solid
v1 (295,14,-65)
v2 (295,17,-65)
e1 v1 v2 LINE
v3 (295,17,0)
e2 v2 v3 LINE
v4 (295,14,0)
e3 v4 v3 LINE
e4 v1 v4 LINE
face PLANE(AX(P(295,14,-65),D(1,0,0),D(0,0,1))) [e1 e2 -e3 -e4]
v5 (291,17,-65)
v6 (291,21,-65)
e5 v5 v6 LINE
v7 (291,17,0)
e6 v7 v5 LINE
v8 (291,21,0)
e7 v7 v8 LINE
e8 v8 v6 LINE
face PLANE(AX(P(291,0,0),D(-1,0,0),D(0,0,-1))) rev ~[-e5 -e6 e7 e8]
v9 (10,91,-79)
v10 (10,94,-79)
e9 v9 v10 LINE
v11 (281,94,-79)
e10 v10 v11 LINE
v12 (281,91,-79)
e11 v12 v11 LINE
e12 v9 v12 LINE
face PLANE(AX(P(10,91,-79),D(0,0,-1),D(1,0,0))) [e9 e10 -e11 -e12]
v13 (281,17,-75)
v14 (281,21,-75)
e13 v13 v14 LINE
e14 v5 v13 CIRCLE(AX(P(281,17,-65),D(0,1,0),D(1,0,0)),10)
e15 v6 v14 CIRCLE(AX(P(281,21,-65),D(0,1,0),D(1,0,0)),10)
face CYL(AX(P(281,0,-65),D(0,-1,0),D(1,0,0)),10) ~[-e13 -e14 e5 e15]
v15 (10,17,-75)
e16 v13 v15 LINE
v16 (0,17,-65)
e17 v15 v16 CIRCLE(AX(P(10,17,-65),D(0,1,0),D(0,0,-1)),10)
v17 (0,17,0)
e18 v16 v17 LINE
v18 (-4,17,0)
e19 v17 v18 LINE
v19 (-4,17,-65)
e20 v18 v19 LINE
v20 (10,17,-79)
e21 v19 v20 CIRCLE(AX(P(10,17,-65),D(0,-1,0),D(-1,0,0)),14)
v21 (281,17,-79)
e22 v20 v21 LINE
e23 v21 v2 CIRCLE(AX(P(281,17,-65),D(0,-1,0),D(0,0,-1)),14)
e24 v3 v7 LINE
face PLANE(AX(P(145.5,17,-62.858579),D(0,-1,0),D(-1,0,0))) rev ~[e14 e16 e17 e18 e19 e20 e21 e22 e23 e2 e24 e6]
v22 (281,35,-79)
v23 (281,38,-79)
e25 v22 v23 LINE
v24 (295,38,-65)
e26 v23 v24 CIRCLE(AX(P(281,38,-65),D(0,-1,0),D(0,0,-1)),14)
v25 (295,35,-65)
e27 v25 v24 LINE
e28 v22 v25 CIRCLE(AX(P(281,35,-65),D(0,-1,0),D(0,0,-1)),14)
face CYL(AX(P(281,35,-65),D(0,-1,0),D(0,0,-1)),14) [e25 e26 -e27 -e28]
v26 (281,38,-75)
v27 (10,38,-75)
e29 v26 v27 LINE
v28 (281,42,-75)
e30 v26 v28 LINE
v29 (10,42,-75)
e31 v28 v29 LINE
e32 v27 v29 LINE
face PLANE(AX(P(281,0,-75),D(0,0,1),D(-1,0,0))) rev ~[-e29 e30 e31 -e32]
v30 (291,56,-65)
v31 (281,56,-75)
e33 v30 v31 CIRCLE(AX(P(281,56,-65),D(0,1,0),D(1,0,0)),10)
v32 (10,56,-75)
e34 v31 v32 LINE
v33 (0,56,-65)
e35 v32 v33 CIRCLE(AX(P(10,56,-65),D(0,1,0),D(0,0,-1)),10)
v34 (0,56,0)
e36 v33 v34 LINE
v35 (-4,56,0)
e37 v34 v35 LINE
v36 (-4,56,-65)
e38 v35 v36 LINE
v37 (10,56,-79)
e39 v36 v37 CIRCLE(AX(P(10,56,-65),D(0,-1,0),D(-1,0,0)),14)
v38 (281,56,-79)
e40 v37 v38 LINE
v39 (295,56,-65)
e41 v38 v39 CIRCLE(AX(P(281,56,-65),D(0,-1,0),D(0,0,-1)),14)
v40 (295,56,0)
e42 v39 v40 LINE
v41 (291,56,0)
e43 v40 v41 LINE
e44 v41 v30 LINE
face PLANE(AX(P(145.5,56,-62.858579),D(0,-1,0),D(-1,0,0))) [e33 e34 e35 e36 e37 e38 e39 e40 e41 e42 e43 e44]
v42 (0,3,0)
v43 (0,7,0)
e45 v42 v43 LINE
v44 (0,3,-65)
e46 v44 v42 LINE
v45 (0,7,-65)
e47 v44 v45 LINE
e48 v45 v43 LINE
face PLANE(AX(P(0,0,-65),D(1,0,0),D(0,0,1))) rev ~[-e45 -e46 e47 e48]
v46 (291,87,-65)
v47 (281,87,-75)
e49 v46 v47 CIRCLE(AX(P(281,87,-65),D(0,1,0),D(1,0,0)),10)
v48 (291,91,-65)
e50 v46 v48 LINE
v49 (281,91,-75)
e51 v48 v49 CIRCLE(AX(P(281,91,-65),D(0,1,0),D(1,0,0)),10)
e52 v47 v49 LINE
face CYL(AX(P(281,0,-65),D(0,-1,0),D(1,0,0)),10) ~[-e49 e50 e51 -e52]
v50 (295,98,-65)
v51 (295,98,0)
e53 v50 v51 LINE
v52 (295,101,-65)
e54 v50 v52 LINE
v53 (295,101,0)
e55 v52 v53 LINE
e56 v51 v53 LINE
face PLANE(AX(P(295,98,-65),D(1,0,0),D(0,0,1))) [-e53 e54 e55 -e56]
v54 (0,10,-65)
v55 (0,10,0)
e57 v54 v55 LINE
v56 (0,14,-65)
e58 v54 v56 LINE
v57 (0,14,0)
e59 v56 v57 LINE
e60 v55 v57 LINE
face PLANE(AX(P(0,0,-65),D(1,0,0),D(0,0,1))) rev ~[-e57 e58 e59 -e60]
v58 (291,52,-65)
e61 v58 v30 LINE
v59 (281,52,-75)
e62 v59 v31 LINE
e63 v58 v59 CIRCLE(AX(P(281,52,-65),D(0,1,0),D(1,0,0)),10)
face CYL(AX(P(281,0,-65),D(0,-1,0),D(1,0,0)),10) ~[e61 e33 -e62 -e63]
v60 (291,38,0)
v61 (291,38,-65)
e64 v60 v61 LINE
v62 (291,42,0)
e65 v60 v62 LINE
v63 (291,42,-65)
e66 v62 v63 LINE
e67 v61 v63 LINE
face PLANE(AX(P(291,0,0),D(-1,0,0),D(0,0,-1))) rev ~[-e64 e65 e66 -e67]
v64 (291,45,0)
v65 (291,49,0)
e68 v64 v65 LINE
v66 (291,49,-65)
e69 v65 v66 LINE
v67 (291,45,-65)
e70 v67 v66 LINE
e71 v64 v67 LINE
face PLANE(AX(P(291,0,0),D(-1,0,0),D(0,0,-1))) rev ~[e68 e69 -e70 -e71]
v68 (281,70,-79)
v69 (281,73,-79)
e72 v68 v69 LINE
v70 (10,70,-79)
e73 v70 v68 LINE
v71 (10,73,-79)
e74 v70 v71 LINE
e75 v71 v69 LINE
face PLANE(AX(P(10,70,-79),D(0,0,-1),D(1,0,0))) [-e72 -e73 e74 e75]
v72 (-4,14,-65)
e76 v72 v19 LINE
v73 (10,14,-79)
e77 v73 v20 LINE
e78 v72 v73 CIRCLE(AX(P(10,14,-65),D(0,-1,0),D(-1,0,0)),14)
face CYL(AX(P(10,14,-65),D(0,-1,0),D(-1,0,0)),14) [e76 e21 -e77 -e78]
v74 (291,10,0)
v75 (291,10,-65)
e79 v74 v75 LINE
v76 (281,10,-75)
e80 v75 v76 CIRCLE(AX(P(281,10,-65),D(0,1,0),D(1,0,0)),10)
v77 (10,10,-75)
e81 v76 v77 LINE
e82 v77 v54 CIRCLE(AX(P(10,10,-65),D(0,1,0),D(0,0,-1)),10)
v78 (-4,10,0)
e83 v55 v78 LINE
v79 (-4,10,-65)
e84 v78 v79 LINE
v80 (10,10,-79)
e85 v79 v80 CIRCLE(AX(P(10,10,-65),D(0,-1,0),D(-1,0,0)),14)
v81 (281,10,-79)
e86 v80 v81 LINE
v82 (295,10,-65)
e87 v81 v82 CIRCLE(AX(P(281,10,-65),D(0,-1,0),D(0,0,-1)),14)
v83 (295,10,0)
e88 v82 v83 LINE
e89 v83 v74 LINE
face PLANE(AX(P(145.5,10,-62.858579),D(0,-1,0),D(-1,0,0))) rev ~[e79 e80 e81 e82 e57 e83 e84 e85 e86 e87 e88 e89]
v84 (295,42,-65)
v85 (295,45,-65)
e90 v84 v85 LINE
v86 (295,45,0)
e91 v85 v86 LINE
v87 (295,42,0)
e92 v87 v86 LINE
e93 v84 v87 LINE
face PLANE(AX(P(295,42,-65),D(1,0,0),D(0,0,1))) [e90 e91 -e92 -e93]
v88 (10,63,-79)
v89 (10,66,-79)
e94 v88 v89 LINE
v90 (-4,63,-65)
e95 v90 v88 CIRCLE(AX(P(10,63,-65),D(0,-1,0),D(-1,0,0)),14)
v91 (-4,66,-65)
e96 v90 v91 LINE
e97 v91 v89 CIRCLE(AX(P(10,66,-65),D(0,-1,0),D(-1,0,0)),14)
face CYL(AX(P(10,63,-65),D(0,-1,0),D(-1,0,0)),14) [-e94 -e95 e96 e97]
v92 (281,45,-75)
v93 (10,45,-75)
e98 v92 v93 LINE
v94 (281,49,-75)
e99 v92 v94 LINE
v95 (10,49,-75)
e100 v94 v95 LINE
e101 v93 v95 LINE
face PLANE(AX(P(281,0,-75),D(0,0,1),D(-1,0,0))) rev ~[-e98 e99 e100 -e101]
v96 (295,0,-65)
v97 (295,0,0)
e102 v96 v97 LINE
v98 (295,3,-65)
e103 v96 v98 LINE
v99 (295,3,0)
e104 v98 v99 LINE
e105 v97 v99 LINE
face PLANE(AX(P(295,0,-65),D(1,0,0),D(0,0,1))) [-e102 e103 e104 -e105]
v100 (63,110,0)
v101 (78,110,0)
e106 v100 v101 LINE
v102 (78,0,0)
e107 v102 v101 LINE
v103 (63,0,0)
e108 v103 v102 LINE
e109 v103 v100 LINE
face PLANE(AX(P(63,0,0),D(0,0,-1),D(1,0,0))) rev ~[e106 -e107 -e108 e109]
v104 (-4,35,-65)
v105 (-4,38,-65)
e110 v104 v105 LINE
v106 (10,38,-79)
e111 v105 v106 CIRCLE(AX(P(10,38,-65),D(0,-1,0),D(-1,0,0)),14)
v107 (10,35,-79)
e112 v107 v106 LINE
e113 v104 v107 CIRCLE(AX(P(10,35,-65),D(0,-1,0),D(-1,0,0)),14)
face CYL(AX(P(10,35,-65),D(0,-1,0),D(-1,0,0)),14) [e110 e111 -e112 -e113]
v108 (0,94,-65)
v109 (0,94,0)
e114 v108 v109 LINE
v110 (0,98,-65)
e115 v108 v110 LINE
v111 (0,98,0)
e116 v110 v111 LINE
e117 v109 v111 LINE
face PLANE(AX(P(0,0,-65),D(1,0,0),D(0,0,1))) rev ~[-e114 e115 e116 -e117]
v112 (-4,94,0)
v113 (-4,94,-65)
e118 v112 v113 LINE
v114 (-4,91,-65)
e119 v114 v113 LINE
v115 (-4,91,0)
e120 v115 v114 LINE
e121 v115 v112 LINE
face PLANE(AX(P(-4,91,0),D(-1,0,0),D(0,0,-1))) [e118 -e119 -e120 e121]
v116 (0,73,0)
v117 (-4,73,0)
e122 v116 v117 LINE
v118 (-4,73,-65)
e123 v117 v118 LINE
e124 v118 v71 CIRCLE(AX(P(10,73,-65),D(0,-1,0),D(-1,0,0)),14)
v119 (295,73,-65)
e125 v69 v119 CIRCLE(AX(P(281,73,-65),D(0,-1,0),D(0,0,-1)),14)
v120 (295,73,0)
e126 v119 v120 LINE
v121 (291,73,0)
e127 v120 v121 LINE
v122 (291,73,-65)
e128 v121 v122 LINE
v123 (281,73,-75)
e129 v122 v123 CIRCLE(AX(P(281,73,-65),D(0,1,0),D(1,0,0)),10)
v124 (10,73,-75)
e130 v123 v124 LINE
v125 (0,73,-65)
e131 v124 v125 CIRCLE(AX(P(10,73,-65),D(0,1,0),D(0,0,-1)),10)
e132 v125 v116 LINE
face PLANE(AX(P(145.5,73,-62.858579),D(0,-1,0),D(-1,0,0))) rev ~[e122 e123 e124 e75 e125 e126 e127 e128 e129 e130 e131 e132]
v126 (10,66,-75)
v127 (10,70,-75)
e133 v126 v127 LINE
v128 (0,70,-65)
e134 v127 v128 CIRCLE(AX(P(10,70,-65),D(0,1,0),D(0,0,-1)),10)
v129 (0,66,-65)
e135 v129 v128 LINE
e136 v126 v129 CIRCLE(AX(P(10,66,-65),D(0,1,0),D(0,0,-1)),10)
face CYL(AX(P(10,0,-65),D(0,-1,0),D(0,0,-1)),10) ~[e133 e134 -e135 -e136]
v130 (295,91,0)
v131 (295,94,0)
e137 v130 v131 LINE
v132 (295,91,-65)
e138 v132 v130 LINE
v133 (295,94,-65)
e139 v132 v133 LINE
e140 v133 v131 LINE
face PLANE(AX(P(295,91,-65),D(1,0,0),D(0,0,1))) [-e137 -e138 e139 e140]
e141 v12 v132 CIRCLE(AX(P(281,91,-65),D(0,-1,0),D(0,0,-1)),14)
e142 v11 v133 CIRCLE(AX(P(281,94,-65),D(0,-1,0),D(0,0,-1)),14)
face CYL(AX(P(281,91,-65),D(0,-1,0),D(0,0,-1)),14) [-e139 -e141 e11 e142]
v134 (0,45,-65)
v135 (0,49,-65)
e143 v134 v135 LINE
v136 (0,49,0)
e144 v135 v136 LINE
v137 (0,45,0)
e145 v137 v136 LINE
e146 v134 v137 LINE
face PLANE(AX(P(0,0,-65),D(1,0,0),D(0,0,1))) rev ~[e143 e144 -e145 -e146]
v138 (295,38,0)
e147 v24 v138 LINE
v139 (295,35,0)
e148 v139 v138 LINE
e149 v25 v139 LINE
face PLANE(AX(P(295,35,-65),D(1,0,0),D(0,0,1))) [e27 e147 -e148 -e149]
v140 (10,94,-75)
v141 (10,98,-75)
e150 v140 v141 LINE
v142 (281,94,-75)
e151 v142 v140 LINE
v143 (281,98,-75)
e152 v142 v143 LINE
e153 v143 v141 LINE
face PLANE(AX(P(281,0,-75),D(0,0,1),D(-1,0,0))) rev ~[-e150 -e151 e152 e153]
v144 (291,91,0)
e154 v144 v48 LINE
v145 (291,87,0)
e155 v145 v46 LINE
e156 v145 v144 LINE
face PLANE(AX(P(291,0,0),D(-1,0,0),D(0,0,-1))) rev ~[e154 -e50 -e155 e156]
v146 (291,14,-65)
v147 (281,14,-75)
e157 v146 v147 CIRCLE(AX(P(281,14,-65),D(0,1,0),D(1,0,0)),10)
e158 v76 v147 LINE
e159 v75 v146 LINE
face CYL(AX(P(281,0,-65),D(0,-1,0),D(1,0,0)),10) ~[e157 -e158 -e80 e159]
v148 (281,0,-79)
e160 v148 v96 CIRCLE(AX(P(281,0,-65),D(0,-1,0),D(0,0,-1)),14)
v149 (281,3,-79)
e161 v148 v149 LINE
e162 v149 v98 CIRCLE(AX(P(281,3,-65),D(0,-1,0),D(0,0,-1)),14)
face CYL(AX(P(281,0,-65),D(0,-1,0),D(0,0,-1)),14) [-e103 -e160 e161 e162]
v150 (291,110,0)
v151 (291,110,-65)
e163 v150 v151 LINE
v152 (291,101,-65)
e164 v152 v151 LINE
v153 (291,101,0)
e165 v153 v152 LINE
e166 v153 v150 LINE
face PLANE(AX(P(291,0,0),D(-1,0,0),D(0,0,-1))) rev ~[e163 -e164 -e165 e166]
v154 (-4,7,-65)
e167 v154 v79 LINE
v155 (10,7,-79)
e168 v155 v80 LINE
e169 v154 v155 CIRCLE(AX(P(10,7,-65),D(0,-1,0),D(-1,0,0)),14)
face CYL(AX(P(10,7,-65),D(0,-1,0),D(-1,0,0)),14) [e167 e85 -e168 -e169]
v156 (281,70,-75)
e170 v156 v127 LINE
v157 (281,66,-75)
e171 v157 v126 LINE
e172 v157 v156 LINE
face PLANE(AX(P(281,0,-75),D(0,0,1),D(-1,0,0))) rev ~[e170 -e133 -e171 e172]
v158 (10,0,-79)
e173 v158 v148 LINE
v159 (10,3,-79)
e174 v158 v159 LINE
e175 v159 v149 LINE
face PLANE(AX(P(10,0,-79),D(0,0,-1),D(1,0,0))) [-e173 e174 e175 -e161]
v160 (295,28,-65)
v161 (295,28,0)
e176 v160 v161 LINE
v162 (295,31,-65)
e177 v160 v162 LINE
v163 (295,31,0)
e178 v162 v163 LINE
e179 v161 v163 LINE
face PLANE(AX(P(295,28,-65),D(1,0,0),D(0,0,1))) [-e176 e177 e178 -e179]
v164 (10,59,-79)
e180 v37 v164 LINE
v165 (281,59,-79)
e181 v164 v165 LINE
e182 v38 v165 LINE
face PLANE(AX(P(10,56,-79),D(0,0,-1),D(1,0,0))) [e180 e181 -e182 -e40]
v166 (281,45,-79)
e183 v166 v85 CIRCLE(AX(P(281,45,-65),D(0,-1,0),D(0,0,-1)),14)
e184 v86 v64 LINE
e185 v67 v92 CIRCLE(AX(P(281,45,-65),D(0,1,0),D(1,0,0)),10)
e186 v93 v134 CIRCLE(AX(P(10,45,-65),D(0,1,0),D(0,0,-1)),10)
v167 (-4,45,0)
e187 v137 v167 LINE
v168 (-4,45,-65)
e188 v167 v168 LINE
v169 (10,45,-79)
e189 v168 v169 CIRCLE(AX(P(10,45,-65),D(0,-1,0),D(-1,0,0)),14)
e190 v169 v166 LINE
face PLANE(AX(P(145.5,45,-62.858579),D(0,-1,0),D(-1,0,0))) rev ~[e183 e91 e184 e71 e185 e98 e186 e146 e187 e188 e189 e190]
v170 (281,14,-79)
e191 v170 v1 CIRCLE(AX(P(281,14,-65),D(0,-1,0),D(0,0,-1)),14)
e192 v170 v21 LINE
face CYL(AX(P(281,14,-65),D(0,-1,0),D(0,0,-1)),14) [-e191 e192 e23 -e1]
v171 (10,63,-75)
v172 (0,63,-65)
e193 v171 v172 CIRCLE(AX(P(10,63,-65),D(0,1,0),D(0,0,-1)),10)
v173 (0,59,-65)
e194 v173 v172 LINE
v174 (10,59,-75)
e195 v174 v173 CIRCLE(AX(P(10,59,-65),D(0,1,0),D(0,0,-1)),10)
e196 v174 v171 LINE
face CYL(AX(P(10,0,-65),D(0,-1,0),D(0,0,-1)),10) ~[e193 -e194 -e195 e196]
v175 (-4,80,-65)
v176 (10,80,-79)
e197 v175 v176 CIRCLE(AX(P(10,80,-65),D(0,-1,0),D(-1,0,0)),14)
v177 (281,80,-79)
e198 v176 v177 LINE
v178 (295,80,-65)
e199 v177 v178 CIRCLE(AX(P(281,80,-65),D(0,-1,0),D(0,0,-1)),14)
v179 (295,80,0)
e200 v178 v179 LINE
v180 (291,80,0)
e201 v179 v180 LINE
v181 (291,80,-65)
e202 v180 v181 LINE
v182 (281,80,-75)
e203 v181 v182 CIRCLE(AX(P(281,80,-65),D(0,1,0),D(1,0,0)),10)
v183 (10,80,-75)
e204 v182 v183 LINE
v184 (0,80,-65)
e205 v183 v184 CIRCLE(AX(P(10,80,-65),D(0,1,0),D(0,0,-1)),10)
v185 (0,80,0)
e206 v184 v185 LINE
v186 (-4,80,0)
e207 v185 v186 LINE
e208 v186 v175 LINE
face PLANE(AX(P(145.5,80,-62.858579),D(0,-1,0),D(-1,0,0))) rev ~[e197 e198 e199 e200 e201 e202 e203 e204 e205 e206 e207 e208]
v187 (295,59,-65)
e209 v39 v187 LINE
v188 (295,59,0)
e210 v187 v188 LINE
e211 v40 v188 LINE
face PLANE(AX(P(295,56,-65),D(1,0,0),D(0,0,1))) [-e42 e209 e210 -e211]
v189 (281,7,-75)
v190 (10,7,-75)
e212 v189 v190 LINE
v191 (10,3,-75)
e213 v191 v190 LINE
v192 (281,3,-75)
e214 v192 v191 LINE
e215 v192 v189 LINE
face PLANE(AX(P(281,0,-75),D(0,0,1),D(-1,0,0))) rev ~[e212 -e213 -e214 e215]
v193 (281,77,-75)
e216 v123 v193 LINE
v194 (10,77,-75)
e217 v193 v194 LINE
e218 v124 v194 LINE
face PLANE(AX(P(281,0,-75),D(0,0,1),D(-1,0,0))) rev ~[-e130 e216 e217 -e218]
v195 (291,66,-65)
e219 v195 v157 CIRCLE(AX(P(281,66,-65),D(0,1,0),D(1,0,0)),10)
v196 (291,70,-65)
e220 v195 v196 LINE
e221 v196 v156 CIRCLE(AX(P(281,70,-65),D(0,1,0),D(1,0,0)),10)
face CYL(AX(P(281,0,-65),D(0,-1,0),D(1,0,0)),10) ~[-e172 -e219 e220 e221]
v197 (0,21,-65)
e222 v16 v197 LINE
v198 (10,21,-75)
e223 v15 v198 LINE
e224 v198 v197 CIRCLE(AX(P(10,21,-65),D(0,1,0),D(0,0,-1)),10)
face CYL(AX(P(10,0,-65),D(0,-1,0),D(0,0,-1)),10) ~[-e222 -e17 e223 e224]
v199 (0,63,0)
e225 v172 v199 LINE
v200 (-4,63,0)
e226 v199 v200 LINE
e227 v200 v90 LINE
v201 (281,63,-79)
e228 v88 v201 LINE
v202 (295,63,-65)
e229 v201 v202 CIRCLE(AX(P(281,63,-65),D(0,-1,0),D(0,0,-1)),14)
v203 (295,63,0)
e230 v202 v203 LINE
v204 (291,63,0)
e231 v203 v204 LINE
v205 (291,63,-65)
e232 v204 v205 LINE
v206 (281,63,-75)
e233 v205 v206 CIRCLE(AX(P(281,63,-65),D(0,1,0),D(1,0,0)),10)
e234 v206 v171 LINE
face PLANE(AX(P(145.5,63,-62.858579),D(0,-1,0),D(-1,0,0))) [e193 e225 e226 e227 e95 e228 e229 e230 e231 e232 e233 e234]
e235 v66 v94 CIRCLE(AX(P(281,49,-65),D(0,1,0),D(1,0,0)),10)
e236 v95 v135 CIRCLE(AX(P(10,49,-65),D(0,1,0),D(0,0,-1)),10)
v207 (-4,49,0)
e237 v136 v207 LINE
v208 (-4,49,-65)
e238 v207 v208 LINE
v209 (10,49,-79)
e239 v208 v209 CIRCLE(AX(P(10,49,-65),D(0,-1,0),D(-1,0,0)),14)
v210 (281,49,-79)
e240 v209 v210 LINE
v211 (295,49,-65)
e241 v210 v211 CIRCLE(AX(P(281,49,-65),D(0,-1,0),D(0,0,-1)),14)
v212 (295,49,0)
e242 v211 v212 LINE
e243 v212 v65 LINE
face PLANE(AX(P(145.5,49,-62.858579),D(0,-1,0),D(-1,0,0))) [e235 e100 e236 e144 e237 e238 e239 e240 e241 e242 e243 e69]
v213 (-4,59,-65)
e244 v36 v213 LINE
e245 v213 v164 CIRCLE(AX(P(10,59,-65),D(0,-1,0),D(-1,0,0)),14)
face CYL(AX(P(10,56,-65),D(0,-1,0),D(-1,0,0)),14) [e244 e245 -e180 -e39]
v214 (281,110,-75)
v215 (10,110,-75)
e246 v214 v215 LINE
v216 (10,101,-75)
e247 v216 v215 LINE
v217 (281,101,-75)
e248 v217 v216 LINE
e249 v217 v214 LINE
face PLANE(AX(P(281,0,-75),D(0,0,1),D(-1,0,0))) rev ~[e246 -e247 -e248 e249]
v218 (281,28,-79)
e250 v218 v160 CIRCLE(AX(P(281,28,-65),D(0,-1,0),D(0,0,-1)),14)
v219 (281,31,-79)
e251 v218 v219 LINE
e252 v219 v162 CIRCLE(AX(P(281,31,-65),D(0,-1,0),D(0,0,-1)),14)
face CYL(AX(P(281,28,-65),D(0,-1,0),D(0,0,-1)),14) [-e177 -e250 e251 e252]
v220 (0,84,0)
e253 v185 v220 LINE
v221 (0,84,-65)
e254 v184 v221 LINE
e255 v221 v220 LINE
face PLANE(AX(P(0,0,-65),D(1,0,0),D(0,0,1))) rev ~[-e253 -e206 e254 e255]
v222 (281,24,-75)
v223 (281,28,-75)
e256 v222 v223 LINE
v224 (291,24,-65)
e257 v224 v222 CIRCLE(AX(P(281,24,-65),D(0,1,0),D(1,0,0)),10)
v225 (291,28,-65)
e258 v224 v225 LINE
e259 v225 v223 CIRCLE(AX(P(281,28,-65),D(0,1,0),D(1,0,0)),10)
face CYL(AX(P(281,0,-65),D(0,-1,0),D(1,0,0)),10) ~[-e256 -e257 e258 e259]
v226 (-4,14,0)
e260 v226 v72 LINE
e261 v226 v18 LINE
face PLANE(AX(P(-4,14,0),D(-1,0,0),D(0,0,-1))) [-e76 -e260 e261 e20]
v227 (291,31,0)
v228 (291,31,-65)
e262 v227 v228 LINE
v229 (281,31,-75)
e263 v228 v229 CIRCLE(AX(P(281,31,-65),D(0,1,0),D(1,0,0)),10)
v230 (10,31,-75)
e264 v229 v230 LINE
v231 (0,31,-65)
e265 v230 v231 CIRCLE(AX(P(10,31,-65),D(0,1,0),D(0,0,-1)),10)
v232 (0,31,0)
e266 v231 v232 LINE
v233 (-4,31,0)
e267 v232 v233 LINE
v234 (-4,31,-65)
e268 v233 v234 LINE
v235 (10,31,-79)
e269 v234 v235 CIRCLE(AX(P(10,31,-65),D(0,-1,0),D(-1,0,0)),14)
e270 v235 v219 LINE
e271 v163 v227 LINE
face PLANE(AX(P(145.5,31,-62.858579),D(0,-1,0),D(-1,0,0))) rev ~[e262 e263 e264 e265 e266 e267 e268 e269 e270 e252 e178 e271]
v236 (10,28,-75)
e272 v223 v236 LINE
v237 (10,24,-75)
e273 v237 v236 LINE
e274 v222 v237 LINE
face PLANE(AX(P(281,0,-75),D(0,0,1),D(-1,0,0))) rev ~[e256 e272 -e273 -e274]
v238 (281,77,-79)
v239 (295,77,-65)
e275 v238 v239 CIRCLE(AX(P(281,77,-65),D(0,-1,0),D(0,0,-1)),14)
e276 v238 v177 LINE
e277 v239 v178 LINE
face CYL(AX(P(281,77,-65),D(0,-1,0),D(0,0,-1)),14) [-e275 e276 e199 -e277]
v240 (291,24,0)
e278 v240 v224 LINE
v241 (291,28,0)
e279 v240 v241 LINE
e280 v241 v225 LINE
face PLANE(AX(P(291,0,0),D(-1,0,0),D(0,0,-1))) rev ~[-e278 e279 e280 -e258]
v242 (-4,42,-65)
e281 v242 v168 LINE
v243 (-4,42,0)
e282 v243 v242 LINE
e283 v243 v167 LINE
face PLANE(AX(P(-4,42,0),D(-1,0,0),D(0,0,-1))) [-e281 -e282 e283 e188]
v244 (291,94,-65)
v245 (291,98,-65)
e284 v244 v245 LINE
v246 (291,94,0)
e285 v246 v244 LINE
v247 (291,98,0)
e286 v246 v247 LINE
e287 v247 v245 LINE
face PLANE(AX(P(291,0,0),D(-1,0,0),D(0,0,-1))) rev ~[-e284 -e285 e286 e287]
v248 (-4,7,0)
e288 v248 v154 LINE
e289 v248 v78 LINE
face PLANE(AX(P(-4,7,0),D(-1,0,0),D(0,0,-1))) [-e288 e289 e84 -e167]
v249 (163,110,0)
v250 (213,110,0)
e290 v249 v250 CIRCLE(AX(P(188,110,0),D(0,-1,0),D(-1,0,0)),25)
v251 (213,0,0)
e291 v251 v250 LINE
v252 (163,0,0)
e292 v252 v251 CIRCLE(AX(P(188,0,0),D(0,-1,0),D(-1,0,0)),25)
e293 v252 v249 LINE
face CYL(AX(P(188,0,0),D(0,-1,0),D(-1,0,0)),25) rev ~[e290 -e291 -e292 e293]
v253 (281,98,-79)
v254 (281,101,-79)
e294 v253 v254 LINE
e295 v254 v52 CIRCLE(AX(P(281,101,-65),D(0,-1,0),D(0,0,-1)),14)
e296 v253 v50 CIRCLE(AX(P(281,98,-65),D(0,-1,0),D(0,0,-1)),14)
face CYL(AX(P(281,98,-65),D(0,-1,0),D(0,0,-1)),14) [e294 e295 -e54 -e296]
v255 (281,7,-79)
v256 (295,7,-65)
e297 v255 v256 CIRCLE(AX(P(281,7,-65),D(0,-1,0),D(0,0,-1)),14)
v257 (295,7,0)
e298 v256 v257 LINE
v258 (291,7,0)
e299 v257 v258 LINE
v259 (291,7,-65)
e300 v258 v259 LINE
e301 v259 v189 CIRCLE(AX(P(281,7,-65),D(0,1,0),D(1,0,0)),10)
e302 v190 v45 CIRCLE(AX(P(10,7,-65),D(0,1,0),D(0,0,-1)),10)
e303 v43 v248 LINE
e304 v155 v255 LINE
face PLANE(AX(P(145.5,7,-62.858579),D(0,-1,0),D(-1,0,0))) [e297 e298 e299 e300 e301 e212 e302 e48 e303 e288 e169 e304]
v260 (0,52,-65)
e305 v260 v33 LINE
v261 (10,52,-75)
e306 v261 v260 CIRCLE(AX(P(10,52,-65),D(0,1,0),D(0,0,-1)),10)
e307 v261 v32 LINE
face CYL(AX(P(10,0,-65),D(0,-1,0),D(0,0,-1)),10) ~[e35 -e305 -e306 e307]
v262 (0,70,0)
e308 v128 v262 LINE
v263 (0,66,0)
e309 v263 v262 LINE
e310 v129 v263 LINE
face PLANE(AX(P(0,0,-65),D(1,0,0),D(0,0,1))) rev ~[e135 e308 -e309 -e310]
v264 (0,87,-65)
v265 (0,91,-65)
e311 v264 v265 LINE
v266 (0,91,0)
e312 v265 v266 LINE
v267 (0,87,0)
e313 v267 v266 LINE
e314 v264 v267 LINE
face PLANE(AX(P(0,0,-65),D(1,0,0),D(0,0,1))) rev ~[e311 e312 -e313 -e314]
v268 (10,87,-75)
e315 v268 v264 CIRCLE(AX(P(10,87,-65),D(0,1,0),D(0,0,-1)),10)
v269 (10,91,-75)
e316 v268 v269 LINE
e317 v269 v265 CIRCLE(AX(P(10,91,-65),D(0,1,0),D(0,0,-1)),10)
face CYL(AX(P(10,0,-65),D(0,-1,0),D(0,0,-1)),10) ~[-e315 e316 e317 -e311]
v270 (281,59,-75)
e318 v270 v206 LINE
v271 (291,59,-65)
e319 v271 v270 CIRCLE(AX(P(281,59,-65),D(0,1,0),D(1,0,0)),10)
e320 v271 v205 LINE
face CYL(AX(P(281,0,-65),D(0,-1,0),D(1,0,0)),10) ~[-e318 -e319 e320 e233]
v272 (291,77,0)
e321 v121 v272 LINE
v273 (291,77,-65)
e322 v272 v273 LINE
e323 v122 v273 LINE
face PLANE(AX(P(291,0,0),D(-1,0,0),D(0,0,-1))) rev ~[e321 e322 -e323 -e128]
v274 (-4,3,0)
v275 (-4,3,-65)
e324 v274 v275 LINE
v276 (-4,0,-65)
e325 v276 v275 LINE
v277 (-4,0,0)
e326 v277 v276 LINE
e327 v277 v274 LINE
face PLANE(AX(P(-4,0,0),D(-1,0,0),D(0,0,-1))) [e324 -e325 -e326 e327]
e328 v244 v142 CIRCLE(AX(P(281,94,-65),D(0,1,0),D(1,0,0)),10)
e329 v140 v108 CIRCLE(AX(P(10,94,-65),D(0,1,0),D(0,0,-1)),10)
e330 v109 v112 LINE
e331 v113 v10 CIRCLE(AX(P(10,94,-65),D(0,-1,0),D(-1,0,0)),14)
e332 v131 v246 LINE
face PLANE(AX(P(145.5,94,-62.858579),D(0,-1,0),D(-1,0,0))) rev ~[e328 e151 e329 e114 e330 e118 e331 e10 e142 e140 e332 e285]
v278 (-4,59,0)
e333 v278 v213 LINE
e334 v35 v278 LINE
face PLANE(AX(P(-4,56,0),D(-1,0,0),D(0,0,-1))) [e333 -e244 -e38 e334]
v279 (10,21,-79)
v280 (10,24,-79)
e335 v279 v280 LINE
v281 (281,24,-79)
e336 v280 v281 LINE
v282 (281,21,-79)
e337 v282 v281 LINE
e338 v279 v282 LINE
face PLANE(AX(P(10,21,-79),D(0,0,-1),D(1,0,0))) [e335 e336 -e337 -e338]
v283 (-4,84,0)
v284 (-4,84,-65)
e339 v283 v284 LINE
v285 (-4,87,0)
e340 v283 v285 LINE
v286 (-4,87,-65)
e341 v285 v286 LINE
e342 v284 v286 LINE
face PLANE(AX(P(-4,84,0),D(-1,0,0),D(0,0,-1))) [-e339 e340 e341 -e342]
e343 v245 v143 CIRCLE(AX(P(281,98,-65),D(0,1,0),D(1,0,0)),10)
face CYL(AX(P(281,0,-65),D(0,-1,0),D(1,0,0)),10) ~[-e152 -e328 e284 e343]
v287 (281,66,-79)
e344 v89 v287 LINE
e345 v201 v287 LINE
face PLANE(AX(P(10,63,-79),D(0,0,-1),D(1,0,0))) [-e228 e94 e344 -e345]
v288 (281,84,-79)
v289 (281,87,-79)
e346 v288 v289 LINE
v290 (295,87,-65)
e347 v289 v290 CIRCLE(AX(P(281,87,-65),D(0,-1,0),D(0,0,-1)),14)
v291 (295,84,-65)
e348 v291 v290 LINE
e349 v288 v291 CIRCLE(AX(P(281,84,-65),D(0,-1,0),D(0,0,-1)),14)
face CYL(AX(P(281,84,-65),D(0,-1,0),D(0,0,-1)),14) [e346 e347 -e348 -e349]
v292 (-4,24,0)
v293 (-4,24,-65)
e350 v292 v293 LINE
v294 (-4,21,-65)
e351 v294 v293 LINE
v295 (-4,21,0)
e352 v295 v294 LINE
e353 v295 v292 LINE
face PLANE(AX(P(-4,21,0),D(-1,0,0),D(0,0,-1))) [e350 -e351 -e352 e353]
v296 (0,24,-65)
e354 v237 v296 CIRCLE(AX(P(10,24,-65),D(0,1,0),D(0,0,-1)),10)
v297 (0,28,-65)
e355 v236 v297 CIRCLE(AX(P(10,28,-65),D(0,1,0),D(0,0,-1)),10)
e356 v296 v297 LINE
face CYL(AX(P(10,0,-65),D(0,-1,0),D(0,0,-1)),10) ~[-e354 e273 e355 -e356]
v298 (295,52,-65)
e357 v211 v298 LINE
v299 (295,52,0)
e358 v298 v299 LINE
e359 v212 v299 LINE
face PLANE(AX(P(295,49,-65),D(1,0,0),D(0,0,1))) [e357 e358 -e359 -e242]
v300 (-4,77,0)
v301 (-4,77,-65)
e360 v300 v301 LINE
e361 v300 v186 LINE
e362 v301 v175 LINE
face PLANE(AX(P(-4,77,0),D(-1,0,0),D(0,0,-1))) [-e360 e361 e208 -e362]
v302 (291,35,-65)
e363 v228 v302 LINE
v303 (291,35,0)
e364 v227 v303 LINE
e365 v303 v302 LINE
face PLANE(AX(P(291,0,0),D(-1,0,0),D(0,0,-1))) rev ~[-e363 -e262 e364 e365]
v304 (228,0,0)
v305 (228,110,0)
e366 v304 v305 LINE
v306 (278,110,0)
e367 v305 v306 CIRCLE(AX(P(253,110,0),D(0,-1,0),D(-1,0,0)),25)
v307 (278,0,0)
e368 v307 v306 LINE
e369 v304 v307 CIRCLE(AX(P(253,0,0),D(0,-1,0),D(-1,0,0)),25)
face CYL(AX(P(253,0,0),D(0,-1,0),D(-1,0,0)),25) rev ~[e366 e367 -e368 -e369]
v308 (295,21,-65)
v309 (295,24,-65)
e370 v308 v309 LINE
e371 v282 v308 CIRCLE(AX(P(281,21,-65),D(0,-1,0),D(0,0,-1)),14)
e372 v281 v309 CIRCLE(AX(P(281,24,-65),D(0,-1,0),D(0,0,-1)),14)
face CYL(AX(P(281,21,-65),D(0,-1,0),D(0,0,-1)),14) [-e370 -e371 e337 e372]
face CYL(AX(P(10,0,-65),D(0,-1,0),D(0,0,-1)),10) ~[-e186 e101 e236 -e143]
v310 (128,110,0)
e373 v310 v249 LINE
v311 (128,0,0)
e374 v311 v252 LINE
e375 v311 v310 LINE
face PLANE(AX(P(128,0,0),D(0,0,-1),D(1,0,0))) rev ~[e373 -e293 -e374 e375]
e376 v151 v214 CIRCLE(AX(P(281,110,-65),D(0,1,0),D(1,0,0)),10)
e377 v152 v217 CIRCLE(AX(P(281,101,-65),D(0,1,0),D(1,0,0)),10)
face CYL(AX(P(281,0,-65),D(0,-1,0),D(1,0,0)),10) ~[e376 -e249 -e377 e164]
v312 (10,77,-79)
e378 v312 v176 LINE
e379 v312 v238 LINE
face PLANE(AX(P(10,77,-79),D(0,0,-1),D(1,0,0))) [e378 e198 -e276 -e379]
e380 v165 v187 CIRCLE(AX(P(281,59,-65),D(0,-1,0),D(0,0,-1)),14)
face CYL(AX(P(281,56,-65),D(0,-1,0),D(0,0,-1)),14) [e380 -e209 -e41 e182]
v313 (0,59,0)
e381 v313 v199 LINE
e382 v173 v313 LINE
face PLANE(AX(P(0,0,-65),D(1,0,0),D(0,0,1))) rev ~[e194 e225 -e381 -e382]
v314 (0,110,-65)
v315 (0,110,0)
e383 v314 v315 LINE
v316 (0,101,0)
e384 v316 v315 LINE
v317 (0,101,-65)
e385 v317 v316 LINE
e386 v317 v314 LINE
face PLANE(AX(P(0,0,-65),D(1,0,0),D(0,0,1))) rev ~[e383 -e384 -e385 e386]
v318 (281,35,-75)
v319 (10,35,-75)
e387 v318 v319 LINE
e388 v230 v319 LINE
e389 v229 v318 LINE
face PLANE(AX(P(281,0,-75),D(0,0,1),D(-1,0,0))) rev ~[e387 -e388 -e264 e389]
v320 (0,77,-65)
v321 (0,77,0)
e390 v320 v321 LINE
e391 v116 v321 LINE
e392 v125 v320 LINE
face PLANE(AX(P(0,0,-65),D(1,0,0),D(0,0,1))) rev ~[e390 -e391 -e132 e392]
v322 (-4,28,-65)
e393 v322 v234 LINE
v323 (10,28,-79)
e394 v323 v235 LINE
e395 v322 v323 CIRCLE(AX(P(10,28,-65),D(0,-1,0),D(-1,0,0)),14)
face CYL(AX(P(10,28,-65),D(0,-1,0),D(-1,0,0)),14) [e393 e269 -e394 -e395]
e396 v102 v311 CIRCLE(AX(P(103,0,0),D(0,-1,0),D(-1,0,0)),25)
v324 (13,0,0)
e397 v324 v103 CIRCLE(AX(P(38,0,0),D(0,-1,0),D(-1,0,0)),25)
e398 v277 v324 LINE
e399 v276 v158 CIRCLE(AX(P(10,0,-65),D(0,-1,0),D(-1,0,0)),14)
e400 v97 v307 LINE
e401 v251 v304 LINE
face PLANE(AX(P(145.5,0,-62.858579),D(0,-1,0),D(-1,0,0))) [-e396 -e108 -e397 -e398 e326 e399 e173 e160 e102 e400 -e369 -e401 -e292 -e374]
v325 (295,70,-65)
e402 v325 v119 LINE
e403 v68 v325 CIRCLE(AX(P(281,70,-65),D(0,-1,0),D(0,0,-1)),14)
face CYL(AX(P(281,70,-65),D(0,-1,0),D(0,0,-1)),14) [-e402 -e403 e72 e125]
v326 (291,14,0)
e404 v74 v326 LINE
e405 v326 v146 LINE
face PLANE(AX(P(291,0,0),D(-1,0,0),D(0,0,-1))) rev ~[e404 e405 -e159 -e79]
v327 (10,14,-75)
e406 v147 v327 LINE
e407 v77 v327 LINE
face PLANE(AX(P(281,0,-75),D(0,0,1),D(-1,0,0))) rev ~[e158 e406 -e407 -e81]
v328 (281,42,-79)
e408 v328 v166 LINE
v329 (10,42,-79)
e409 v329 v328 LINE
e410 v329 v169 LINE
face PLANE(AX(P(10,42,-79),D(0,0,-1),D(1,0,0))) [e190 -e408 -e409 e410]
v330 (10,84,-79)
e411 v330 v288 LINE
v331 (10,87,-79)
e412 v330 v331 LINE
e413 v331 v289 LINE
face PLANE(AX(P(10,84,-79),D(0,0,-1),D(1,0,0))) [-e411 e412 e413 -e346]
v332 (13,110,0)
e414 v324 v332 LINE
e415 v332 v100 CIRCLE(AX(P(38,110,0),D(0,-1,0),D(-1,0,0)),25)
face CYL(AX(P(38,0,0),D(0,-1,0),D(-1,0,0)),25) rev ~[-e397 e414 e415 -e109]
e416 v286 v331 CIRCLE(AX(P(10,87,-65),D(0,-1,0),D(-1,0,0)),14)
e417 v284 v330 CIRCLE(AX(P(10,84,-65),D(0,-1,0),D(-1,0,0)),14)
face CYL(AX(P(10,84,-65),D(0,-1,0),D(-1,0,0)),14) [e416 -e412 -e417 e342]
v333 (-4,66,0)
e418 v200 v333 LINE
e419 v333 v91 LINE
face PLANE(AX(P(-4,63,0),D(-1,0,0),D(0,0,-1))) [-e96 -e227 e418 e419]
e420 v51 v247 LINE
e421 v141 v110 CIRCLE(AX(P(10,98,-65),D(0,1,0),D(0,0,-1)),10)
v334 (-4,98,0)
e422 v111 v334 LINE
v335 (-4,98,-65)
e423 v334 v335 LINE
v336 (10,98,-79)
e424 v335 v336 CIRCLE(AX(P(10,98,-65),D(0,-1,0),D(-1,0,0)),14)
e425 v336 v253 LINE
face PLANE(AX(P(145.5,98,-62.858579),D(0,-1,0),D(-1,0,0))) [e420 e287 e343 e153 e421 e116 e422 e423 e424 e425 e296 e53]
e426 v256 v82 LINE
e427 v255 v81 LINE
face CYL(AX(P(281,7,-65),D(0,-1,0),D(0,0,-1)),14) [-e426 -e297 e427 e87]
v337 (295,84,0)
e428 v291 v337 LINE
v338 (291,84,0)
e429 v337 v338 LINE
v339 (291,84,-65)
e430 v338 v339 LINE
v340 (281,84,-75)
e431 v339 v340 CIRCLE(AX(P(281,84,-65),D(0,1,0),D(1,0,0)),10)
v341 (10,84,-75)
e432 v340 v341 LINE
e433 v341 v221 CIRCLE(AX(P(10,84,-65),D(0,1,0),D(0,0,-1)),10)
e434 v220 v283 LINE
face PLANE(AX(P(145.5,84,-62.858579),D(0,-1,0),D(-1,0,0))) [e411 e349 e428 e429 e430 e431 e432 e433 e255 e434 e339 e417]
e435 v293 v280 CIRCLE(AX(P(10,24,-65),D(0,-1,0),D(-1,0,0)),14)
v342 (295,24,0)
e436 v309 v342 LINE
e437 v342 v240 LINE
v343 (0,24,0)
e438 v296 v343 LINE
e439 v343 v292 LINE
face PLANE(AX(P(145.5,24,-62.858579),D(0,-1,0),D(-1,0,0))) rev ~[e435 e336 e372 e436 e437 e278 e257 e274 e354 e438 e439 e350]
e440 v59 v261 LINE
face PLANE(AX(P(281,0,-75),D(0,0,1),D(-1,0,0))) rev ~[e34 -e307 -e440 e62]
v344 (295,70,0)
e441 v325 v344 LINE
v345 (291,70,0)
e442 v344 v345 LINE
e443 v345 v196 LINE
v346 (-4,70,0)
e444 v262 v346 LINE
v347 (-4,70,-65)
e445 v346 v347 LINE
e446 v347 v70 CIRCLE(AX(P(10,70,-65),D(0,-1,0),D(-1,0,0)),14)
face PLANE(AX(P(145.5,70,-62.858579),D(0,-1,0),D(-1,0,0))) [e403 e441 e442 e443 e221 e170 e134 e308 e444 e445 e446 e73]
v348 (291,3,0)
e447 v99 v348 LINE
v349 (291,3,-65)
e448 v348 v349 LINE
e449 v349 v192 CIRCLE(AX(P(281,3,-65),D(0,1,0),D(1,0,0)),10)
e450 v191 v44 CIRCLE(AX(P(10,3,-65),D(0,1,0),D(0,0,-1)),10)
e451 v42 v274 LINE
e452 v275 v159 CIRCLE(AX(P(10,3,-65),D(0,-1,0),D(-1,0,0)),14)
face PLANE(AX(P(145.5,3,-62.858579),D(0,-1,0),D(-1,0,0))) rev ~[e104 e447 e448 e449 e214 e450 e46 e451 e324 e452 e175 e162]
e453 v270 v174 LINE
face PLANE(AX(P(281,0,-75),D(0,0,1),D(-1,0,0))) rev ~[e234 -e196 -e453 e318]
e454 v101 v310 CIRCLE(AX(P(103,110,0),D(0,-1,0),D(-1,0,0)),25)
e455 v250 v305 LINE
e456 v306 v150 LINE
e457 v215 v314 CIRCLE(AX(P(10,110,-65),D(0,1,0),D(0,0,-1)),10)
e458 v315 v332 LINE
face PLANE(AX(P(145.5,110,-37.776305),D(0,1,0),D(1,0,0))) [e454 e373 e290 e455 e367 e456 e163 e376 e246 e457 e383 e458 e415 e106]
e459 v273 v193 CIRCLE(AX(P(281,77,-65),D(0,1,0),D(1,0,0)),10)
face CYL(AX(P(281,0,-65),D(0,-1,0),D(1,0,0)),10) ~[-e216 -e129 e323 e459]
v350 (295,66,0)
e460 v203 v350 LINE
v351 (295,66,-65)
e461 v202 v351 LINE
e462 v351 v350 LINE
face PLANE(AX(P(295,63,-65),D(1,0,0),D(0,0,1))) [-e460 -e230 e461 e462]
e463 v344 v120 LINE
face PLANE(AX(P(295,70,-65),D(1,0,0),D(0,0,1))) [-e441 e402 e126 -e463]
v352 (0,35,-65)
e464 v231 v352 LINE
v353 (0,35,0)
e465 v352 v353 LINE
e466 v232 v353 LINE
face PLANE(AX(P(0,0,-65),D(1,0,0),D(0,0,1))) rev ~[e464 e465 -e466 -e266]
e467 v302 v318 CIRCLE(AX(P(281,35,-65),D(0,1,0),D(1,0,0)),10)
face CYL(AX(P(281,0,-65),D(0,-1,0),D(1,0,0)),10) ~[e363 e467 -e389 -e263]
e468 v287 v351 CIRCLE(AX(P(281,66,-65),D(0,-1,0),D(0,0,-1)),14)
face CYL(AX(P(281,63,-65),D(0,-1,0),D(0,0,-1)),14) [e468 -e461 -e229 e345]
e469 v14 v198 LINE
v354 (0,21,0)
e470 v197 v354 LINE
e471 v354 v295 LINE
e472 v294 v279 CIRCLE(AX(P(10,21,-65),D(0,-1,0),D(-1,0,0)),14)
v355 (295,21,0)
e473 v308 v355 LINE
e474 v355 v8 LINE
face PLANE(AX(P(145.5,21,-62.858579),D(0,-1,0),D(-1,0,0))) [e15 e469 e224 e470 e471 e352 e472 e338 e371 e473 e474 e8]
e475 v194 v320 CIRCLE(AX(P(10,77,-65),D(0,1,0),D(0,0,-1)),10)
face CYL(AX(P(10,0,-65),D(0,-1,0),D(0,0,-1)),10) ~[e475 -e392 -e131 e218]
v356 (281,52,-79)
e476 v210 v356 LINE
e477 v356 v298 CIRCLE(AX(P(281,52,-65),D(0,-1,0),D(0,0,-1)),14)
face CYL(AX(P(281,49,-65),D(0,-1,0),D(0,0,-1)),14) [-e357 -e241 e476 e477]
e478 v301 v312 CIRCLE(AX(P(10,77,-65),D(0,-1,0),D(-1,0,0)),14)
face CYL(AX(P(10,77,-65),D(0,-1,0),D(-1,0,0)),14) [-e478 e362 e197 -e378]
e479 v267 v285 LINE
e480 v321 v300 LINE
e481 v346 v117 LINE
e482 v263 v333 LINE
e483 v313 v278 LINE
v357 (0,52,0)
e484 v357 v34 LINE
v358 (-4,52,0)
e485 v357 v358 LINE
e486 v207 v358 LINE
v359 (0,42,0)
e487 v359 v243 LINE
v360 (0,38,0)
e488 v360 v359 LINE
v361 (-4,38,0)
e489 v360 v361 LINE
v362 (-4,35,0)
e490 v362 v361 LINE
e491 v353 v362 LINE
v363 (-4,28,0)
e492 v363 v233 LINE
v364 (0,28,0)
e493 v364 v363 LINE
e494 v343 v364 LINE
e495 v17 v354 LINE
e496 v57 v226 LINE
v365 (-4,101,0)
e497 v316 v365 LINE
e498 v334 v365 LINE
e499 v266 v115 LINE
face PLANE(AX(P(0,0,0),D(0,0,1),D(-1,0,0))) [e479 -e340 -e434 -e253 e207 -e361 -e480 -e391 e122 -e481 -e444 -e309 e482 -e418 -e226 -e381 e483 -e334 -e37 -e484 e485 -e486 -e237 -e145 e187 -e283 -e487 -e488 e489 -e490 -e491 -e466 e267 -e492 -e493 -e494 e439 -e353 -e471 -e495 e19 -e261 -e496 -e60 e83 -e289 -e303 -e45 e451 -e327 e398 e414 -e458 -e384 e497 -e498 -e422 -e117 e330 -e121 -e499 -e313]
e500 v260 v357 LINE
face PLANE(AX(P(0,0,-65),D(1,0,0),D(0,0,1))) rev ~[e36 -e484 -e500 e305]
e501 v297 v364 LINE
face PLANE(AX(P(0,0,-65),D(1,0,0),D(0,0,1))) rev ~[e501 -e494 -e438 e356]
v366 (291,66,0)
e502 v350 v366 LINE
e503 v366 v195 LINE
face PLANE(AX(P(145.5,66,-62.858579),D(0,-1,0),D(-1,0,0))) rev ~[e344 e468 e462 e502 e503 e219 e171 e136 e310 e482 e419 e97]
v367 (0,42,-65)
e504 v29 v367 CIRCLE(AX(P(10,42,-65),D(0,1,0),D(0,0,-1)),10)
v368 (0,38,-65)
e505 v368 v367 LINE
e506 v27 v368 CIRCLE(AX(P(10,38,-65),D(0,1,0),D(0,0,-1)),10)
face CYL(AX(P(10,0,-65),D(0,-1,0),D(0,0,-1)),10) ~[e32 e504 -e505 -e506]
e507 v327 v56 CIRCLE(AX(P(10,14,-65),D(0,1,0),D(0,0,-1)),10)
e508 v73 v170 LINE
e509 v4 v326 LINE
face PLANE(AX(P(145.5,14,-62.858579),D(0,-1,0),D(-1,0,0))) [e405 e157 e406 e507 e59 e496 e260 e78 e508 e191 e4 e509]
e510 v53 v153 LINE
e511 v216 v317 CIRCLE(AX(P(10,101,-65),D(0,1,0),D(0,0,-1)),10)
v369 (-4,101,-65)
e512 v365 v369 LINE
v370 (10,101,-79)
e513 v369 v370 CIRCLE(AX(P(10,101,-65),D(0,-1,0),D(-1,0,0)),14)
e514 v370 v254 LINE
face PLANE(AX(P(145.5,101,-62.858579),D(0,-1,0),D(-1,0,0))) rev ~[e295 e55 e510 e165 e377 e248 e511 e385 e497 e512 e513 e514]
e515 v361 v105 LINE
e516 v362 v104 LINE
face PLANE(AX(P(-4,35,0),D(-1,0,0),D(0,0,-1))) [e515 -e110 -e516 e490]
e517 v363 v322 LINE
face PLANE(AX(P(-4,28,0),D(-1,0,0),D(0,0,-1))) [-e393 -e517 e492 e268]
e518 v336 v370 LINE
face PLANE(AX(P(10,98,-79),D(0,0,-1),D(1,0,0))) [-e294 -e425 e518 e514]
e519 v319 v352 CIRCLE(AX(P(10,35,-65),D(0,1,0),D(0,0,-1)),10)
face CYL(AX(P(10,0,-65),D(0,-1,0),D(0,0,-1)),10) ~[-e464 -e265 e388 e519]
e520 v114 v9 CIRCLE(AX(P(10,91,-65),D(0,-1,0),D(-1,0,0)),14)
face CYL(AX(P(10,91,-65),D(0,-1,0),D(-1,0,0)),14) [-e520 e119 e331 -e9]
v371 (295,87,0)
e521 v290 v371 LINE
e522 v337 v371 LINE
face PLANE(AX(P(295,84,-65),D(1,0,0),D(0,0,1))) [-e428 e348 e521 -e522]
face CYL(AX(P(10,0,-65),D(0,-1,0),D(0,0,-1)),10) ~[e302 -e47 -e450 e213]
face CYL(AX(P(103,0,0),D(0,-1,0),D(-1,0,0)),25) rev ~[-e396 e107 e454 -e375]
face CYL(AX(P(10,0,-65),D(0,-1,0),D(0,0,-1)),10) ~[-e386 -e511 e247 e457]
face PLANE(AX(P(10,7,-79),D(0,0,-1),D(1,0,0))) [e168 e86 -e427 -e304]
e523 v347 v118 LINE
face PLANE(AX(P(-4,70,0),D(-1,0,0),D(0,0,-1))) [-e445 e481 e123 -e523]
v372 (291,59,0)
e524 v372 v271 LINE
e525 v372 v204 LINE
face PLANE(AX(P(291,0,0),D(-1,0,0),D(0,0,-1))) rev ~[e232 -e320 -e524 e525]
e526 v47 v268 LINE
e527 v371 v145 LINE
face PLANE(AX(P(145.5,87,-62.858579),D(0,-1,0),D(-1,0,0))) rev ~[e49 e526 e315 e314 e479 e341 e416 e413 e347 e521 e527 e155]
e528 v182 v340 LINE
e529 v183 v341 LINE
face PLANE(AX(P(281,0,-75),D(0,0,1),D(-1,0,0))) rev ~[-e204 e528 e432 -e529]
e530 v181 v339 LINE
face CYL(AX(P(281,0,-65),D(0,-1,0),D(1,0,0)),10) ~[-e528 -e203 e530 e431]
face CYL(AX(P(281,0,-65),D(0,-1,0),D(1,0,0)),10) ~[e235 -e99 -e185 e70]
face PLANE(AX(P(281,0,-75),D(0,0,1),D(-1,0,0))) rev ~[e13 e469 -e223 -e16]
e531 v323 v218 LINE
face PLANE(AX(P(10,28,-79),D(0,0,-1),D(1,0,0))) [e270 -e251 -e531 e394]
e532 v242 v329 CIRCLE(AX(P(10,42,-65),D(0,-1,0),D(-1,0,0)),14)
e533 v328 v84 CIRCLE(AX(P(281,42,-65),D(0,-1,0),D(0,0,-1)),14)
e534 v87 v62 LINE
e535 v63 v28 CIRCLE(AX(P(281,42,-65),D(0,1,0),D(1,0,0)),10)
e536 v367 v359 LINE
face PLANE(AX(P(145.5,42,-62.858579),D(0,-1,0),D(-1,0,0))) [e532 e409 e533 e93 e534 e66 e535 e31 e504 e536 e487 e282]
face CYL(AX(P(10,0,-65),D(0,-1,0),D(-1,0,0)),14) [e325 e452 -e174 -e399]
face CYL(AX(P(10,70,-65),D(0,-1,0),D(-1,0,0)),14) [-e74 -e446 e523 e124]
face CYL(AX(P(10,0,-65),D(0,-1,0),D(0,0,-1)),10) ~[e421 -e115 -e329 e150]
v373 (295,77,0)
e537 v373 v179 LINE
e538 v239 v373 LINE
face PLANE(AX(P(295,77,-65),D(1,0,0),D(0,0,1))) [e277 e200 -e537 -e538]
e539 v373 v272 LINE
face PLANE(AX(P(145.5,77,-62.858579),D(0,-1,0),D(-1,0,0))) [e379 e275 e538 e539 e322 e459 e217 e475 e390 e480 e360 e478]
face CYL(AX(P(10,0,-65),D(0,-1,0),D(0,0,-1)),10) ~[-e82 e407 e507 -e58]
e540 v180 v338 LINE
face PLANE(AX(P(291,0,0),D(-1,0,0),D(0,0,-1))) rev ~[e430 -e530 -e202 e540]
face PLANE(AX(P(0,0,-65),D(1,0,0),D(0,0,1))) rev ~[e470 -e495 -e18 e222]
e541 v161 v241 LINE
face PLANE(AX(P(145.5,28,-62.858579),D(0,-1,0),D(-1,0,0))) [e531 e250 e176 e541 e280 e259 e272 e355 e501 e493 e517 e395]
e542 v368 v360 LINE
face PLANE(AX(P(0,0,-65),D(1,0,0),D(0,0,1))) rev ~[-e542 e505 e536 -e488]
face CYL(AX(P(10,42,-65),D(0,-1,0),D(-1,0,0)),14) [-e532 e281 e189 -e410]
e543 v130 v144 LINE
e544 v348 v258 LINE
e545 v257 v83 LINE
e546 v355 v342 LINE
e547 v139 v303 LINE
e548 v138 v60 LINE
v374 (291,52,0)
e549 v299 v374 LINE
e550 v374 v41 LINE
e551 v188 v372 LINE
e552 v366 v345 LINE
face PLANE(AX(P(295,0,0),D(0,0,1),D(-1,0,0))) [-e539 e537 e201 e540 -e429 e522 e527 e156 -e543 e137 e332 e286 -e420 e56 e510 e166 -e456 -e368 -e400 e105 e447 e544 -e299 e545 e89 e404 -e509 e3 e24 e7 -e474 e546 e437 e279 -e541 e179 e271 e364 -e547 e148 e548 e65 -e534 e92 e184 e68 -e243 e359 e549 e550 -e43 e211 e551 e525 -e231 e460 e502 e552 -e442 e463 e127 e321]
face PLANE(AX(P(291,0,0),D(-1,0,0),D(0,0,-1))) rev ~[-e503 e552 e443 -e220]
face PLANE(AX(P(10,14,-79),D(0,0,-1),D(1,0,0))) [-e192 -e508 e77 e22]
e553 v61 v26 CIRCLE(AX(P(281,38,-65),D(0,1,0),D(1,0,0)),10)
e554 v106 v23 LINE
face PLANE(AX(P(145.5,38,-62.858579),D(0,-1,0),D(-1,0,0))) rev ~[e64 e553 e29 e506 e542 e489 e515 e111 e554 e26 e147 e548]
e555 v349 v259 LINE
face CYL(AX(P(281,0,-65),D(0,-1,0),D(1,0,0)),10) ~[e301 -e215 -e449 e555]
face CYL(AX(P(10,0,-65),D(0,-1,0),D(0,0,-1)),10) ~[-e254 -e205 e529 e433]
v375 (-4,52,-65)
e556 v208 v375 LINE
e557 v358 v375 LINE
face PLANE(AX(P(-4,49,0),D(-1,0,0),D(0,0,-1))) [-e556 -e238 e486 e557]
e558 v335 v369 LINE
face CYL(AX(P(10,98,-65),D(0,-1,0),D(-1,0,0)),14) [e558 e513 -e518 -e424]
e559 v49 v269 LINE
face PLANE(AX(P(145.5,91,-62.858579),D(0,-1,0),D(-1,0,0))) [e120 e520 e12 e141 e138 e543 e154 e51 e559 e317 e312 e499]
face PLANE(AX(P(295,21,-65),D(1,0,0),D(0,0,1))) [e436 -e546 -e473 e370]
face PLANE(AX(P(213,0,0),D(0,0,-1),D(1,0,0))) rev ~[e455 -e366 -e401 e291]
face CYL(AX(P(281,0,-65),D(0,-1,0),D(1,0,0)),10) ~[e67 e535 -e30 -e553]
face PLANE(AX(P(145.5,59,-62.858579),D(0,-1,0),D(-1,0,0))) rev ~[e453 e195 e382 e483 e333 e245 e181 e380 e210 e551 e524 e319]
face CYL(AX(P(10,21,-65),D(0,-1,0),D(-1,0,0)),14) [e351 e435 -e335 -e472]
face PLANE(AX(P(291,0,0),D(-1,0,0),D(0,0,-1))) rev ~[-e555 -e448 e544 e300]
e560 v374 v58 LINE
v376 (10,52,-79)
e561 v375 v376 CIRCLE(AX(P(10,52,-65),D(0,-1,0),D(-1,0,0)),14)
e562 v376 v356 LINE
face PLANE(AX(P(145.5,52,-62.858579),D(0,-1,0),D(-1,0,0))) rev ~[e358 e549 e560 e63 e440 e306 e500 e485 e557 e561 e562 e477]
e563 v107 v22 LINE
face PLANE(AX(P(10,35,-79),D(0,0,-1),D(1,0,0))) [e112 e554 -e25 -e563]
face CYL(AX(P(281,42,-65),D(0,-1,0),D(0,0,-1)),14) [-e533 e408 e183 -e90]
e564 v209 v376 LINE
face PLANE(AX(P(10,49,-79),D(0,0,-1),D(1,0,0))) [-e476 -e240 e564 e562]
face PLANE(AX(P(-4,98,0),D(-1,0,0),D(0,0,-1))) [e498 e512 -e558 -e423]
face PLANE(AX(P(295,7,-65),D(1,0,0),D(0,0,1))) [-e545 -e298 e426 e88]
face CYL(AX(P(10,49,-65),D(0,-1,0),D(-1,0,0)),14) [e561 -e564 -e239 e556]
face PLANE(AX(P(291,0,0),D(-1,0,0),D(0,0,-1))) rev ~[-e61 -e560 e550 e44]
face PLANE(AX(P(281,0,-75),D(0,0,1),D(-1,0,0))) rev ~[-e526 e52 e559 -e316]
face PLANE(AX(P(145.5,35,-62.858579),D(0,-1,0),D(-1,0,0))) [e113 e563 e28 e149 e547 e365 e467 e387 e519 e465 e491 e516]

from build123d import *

# Parameters (mm, degrees)
BOSS_EXTRUDE1_DEPTH = 110
BOSS_EXTRUDE3_DEPTH = 3
LPATTERN1_COUNT     = 15
LPATTERN1_PITCH     = 7


with BuildPart() as part:
    # Sketch2 → Boss-Extrude1 (new body)
    with BuildSketch(Plane(origin=(0, 0, 0), x_dir=(1, 0, 0), z_dir=(0, 1, 0))):
        with BuildLine():
            Line((0, 0), (13, 0))
            ThreePointArc((13, 0), (38, 25), (63, 0))
            Line((63, 0), (78, 0))
            ThreePointArc((78, 0), (103, 25), (128, 0))
            Line((128, 0), (163, 0))
            ThreePointArc((163, 0), (188, 25), (213, 0))
            Line((213, 0), (228, 0))
            ThreePointArc((228, 0), (253, 25), (278, 0))
            Line((278, 0), (291, 0))
            Line((291, 0), (291, 65))
            ThreePointArc((291, 65), (288.071067812, 72.071067812), (281, 75))
            Line((281, 75), (10, 75))
            ThreePointArc((10, 75), (2.928932188, 72.071067812), (0, 65))
            Line((0, 65), (0, 0))
        make_face()
    extrude(amount=BOSS_EXTRUDE1_DEPTH)

    # Sketch4 → Boss-Extrude3 (add)
    with BuildSketch(Plane(origin=(0, 0, 0), x_dir=(1, 0, 0), z_dir=(0, 1, 0))):
        with BuildLine():
            ThreePointArc((10, 75), (2.928932188, 72.071067812), (0, 65))
            Line((0, 65), (0, 0))
            Line((0, 0), (-4, 0))
            Line((-4, 0), (-4, 65))
            ThreePointArc((-4, 65), (0.100505063, 74.899494937), (10, 79))
            Line((10, 79), (281, 79))
            ThreePointArc((281, 79), (290.899494937, 74.899494937), (295, 65))
            Line((295, 65), (295, 0))
            Line((295, 0), (291, 0))
            Line((291, 0), (291, 65))
            ThreePointArc((291, 65), (288.071067812, 72.071067812), (281, 75))
            Line((281, 75), (10, 75))
        make_face()
    boss_extrude3 = extrude(amount=BOSS_EXTRUDE3_DEPTH)

    # LPattern1: Boss-Extrude3 ×15
    with Locations(*[(0, i * LPATTERN1_PITCH, 0) for i in range(1, LPATTERN1_COUNT)]):
        add(boss_extrude3)


solid = part.part
